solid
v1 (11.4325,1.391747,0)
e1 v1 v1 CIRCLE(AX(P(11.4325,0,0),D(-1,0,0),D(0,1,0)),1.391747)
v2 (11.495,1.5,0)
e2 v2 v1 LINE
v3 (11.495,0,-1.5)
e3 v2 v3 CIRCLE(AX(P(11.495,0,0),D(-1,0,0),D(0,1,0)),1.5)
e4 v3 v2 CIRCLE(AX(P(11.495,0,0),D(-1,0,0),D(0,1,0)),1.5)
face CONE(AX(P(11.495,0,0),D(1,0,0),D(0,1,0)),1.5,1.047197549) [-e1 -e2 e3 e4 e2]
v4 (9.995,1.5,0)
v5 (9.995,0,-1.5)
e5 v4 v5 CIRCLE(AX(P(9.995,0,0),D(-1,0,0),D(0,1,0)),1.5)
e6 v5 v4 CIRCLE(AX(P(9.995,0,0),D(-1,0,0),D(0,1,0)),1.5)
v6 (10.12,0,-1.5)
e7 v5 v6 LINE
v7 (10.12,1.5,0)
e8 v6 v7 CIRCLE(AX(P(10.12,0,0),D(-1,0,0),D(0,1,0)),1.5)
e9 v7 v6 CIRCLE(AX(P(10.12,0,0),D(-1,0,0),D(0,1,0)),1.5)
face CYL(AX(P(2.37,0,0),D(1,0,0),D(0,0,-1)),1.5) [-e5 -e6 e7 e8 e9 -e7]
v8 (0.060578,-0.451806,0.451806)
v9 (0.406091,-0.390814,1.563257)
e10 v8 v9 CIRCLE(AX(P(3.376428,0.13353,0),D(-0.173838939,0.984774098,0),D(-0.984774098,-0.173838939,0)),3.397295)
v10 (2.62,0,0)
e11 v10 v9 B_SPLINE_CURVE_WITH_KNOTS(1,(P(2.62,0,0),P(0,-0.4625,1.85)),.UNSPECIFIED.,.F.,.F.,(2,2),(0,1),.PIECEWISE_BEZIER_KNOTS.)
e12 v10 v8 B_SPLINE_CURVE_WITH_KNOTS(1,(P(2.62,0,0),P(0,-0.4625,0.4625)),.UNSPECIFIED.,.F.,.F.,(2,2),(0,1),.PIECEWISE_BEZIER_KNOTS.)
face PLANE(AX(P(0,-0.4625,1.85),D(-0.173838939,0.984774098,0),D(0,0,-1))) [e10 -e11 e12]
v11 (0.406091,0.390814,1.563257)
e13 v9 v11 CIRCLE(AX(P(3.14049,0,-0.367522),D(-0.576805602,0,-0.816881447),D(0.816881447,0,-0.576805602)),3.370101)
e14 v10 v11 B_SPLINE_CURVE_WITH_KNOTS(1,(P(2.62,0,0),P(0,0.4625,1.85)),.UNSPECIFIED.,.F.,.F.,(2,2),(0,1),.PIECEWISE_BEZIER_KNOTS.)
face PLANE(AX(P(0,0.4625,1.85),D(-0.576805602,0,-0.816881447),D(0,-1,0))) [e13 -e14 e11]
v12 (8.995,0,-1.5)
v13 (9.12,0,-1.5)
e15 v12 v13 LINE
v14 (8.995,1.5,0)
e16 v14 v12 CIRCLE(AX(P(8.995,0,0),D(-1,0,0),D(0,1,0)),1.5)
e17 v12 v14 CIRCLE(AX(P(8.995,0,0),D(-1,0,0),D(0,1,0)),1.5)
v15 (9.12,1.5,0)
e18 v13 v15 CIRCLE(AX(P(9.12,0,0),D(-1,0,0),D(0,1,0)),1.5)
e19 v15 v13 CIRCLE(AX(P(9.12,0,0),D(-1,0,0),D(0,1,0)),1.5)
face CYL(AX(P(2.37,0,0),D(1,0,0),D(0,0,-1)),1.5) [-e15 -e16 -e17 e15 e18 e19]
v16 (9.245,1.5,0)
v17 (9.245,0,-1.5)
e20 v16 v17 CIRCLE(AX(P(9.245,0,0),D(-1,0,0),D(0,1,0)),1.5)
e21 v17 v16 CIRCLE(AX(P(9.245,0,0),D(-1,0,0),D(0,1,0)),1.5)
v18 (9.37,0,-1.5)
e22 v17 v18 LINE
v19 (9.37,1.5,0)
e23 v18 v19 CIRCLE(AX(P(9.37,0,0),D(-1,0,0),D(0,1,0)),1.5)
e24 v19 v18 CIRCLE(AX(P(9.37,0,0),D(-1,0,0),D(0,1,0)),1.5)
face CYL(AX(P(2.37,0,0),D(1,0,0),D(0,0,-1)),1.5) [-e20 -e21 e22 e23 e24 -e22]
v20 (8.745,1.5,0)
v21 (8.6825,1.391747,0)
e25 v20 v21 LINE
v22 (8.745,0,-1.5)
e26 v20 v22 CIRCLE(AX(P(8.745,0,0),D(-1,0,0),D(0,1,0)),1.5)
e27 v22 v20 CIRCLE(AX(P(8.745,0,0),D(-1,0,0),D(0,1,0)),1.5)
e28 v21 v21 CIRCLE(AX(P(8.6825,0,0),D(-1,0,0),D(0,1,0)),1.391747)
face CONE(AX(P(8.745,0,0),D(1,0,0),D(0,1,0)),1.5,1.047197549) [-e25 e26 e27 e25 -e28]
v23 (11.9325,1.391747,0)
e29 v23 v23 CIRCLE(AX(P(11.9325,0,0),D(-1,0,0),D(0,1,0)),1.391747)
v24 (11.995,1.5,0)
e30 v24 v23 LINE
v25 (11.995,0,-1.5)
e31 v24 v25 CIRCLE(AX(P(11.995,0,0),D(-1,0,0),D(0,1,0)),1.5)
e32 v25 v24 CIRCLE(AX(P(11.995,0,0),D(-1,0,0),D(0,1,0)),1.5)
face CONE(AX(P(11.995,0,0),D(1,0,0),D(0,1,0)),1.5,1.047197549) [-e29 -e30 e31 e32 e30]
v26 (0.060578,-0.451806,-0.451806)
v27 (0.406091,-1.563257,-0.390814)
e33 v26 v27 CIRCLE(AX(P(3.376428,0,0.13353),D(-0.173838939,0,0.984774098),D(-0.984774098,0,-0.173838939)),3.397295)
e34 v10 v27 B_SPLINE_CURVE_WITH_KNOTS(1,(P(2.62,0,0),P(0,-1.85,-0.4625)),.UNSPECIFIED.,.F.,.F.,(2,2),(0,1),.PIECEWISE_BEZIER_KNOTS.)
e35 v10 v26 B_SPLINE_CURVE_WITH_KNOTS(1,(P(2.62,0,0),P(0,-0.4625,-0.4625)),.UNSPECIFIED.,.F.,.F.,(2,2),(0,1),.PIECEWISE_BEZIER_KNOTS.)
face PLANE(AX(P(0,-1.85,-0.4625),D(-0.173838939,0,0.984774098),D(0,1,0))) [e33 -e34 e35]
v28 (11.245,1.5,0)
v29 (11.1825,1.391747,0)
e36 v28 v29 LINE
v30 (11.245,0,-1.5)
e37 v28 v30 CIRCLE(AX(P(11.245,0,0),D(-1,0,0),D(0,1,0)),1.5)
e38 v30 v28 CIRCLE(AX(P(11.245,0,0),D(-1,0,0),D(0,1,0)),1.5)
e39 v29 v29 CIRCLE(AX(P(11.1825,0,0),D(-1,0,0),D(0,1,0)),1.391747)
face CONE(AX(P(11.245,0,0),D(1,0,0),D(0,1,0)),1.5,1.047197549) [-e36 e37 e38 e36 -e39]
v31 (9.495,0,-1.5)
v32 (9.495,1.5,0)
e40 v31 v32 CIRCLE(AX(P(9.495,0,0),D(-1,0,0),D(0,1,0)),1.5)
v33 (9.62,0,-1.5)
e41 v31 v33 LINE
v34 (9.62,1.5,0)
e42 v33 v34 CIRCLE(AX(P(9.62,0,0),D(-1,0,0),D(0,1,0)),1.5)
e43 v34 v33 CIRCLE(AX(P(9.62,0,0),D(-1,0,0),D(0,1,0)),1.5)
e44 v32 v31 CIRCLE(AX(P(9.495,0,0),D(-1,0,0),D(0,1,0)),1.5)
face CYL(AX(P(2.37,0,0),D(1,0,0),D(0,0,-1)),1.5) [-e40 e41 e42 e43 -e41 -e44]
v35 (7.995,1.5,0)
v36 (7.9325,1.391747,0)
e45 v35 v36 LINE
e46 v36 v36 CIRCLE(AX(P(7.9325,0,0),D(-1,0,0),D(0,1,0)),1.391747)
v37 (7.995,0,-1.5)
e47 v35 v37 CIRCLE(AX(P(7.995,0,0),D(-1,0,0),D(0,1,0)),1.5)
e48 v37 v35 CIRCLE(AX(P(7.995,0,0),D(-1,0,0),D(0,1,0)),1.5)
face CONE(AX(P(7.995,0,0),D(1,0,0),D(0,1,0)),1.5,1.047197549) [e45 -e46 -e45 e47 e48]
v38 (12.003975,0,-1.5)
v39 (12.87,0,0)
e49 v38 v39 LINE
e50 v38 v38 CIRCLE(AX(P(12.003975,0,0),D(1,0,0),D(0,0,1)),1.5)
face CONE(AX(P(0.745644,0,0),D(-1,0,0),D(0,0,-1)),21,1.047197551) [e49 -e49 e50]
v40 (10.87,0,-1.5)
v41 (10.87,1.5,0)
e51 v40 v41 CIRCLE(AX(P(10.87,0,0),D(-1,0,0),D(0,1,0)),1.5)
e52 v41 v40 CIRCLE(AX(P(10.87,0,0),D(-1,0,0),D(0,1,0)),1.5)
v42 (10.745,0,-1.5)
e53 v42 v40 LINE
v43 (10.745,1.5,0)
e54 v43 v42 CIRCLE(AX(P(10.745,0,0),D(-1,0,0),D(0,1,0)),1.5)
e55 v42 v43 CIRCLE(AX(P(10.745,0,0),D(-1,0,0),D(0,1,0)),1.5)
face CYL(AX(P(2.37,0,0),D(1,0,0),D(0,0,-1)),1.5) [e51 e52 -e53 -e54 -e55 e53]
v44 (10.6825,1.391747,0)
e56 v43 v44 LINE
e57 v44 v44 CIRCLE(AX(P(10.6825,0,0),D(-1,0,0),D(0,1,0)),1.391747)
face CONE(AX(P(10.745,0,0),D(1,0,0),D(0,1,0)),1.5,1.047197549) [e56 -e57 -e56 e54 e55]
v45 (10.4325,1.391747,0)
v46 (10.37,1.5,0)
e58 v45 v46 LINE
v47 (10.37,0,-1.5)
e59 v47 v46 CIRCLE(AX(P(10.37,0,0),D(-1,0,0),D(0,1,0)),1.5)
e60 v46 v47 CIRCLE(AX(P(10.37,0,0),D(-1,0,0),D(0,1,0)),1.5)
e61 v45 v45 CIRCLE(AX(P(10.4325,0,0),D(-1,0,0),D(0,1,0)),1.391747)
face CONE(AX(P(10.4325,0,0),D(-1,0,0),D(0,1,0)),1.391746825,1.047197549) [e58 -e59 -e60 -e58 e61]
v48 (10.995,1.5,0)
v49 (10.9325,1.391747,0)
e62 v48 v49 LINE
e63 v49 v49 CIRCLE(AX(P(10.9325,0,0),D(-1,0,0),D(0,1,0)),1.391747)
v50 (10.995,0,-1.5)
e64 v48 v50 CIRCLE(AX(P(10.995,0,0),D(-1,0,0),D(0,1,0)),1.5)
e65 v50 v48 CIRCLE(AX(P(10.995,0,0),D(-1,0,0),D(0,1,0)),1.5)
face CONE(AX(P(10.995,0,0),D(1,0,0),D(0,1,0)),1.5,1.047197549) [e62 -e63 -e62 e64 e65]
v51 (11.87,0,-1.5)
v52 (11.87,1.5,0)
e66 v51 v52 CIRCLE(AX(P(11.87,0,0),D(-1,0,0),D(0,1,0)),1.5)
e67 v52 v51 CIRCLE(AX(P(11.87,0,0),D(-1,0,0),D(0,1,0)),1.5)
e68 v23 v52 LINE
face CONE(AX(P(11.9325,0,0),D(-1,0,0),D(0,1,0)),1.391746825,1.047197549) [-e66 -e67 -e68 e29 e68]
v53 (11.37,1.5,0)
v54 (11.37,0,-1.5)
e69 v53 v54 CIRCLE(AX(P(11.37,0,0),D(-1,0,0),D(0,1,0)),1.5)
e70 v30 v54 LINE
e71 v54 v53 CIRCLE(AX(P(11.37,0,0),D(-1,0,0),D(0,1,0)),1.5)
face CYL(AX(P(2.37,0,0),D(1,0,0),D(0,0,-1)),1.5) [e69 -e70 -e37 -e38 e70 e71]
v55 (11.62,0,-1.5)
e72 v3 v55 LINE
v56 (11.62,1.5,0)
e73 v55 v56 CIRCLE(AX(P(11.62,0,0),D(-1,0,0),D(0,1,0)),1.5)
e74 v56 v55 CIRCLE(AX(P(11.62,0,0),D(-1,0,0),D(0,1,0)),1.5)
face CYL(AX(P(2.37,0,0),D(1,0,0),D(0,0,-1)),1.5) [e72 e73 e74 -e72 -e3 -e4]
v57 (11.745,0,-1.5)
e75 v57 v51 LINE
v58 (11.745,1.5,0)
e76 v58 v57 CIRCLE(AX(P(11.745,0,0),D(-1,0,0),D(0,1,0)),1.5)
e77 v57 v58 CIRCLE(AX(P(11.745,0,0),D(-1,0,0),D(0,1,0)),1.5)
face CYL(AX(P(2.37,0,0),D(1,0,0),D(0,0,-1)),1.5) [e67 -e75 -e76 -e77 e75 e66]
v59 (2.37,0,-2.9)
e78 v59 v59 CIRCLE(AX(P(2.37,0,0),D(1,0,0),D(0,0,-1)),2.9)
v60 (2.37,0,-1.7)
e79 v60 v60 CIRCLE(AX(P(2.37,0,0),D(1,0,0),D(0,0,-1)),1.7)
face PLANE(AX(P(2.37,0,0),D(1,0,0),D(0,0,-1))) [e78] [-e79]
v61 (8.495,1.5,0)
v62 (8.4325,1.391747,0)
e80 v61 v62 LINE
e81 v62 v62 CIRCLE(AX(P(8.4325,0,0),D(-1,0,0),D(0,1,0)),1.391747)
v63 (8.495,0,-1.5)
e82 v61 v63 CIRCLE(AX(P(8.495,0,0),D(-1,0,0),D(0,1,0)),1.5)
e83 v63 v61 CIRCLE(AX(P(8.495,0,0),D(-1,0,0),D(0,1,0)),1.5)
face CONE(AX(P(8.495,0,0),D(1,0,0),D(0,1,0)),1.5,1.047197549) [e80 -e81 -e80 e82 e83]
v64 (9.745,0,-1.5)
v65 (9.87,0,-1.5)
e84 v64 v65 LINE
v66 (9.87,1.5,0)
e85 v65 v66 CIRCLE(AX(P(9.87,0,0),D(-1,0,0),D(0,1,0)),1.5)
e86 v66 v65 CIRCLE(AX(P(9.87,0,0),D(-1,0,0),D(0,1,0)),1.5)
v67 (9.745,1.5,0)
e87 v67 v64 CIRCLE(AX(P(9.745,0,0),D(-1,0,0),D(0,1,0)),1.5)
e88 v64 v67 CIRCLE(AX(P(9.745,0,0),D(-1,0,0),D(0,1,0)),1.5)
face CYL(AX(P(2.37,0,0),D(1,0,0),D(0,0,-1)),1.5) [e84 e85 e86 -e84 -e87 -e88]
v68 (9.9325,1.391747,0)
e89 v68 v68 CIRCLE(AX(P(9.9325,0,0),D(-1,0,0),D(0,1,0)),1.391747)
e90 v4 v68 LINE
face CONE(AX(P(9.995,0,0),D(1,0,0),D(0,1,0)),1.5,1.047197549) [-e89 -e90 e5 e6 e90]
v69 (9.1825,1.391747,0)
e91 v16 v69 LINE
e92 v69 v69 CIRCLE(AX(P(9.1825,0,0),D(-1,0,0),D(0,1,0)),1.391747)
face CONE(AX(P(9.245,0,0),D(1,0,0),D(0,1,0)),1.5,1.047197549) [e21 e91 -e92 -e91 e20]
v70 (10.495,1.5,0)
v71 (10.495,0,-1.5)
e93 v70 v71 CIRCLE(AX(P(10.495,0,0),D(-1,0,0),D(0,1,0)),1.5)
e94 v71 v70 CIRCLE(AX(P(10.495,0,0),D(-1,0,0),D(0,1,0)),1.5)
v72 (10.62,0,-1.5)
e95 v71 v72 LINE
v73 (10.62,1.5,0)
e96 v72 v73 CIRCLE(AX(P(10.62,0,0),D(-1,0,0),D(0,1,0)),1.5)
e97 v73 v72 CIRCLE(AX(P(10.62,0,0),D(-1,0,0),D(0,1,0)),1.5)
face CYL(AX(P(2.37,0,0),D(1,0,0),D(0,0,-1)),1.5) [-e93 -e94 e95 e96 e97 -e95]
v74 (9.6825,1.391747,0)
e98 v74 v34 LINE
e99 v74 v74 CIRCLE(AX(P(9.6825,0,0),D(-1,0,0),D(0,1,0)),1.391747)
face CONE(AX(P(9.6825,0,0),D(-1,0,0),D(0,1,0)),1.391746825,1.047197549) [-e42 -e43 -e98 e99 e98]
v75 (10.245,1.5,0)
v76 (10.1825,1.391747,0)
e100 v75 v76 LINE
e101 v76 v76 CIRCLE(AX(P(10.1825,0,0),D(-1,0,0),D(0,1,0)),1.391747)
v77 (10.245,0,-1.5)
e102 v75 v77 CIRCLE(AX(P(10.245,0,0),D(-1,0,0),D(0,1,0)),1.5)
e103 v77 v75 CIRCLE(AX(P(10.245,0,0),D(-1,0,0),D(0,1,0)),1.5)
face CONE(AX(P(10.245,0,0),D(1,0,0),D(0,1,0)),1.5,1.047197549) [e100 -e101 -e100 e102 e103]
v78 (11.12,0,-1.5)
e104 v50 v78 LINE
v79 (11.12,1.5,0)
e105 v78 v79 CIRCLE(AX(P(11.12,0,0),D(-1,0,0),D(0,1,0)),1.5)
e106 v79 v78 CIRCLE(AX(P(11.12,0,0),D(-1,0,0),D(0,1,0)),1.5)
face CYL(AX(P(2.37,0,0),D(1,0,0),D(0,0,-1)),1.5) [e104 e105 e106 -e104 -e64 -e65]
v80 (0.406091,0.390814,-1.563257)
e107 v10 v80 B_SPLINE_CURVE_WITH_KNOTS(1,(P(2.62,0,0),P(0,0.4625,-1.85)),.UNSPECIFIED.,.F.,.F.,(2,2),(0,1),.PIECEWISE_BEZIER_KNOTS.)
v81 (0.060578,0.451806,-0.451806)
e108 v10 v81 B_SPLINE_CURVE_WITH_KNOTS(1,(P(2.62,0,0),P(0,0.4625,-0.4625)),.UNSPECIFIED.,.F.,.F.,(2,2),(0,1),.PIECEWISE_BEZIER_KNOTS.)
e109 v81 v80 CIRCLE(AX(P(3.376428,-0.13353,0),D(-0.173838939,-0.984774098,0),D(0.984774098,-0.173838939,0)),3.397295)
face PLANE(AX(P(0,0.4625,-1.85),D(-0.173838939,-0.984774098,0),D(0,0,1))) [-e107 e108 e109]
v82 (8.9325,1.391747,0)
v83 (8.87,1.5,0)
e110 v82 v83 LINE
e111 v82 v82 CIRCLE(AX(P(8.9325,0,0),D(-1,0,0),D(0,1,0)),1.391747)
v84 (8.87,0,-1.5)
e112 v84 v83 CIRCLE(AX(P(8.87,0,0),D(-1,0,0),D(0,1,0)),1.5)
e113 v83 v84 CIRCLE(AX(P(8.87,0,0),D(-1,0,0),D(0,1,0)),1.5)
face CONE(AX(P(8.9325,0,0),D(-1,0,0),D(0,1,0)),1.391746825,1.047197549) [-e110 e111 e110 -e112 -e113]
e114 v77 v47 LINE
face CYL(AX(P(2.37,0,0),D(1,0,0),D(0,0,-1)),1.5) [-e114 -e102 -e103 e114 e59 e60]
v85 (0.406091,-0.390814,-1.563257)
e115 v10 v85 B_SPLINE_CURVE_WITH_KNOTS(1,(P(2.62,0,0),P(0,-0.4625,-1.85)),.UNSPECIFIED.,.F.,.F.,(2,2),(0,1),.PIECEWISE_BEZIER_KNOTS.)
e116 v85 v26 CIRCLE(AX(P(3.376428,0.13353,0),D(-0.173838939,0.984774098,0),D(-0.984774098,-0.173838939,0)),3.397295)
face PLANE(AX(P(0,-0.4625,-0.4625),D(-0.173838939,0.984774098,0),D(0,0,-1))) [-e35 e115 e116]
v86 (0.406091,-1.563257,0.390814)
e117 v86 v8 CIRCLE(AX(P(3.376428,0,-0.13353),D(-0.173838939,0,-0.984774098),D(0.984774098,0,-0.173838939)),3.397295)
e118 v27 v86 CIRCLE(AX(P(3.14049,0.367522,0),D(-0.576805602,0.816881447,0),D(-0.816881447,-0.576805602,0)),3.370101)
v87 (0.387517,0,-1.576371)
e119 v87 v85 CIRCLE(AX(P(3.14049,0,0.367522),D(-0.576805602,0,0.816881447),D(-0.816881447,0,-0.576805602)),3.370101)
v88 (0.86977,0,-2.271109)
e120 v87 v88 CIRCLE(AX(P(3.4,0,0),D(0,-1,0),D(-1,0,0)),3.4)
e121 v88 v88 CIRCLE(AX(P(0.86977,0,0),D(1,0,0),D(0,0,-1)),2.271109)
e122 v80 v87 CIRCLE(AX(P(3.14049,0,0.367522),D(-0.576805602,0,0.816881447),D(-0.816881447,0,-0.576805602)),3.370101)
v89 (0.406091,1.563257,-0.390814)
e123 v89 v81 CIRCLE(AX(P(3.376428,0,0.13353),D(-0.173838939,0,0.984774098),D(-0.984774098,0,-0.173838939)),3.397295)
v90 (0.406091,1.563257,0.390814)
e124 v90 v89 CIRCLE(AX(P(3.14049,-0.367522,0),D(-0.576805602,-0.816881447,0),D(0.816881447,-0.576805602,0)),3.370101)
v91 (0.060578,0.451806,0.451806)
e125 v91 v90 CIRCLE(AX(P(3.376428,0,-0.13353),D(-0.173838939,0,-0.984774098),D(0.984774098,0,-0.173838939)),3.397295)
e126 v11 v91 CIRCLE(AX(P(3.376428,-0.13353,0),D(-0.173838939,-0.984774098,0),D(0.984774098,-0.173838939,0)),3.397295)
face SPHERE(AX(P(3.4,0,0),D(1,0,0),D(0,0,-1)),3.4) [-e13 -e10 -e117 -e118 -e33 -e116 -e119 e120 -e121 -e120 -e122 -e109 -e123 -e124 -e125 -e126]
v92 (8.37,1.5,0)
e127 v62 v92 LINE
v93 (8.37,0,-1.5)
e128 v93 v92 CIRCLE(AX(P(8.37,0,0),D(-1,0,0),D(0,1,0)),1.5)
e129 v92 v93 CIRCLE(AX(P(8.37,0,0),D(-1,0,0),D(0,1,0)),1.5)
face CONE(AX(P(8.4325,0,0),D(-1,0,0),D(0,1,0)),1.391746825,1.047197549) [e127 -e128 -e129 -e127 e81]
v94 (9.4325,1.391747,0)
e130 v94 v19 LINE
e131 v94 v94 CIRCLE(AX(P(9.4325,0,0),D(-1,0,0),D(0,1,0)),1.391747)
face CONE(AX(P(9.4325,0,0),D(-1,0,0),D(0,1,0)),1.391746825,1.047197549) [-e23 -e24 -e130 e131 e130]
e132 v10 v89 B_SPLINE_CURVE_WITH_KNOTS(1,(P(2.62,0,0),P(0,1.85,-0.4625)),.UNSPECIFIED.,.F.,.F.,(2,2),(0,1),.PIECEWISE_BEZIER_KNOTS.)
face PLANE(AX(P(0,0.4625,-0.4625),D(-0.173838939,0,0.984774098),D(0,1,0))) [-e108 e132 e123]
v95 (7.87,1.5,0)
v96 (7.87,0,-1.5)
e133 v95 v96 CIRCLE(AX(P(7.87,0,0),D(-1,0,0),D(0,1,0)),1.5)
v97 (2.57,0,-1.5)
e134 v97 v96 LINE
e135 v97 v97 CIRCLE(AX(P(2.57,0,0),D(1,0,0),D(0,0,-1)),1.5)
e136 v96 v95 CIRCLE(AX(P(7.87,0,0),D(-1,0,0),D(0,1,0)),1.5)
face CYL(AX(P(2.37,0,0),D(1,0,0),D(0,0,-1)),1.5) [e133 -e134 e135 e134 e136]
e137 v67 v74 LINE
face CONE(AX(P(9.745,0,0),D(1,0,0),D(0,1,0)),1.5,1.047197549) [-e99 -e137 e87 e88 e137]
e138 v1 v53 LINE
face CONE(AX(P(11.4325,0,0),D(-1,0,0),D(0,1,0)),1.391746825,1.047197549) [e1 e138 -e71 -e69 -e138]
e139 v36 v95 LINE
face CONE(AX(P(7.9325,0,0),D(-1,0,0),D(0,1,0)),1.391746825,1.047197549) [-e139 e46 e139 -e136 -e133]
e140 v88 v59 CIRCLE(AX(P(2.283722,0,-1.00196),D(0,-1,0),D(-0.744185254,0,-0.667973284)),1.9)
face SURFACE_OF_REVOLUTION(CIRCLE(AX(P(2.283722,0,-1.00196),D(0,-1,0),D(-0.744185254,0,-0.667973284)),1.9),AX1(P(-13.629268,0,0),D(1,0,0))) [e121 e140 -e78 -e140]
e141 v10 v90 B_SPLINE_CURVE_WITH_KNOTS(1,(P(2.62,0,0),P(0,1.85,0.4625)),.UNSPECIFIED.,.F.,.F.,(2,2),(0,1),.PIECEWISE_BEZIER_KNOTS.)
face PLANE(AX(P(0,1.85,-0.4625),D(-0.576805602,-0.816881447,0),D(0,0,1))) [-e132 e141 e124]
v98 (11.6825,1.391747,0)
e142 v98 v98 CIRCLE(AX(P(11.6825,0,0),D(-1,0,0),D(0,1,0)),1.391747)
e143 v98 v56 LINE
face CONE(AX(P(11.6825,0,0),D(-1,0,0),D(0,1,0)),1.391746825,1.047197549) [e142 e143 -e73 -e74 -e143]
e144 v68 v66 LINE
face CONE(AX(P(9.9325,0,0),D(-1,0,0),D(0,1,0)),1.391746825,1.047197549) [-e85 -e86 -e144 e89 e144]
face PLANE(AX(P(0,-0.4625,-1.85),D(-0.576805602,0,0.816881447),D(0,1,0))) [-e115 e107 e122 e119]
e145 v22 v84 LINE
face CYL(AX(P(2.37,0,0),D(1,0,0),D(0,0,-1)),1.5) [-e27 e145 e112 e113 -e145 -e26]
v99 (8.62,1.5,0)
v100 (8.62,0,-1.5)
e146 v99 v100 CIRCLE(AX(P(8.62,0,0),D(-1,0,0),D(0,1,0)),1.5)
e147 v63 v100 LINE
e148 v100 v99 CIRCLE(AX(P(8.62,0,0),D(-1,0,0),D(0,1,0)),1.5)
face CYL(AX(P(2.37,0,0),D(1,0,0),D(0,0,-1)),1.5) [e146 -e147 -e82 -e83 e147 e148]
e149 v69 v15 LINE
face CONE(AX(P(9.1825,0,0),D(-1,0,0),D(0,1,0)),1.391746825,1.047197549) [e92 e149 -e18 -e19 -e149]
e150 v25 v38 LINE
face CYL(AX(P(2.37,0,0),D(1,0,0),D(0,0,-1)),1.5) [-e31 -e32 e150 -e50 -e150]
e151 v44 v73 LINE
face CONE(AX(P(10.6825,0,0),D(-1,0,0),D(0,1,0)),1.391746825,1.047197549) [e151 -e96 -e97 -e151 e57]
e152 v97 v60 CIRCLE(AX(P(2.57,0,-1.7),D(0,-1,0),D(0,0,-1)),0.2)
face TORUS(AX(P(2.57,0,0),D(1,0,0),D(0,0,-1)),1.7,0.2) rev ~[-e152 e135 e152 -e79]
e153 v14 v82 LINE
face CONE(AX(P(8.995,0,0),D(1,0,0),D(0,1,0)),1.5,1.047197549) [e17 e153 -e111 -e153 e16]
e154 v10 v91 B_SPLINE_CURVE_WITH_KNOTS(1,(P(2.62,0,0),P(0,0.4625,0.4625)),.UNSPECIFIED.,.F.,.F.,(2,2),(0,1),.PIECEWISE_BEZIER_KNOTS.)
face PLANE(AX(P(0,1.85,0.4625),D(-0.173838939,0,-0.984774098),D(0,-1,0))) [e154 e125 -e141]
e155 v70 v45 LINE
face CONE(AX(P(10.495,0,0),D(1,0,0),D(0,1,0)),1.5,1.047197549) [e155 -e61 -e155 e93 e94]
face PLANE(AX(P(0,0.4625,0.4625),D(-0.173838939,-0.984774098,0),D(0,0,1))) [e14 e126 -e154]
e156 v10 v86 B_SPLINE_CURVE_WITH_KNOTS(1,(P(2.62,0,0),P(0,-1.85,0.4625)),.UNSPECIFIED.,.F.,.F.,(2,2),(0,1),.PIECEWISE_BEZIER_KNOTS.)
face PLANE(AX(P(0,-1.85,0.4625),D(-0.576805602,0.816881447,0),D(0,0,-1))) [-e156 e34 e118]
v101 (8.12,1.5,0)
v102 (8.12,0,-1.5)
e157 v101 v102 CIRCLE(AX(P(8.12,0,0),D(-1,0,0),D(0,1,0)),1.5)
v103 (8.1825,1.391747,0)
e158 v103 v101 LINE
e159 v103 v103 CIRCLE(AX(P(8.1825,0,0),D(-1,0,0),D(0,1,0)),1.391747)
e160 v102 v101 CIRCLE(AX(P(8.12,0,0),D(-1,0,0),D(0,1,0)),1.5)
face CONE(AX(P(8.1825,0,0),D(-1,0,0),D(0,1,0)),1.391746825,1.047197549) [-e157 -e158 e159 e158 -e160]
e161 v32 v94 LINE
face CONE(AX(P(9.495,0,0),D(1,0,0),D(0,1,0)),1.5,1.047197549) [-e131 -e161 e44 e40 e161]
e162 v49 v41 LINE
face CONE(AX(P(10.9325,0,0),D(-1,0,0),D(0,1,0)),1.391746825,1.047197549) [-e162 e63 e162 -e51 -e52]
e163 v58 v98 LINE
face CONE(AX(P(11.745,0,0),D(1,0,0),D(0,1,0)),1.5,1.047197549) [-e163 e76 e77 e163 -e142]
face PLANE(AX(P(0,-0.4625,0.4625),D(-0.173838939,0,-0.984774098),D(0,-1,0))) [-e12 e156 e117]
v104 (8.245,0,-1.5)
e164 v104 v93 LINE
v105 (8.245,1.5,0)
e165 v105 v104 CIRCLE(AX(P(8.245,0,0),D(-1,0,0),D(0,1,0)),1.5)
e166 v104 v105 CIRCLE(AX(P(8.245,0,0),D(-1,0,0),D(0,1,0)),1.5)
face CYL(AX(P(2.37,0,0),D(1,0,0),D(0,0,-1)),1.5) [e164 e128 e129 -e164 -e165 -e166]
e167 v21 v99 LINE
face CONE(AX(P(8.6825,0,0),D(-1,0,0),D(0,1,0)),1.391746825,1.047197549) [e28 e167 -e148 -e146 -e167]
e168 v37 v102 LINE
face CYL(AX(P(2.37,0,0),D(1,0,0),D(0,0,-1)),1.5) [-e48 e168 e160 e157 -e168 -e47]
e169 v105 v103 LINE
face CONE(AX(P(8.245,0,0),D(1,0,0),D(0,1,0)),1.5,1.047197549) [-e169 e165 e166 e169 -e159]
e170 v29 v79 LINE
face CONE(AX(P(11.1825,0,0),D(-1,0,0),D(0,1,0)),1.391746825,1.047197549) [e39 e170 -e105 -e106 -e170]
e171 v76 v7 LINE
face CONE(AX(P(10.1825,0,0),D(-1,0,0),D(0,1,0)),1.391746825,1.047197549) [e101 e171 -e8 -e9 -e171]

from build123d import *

# Parameters (mm, degrees)
FILLET2_R        = 0.2
LPATTERN10_COUNT = 20
LPATTERN10_PITCH = 0.25


with BuildPart() as part:
    # Sketch1 → Revolve1 (revolve)
    with BuildSketch(Plane(origin=(0, 0, 0), x_dir=(1, 0, 0), z_dir=(0, 1, 0))):
        with BuildLine():
            Line((2.37, 1.5), (12.87, 1.5))
            Line((12.87, 1.5), (12.87, 0))
            Line((12.87, 0), (0, 0))
            ThreePointArc((0, 0), (0.224879408, 1.215980768), (0.869770135, 2.271109163))
            ThreePointArc((0.869770135, 2.271109163), (1.549177667, 2.754228297), (2.37, 2.9))
            Line((2.37, 2.9), (2.37, 1.5))
        make_face()
    revolve(axis=Axis((-13.629268293, 0, 0), (1, 0, 0)))

    # Fillet2
    fillet2_edges = [part.edges().sort_by_distance(p)[0] for p in [
        (2.37, 0, 1.5),
    ]]
    fillet(fillet2_edges, radius=FILLET2_R)

    # Sketch4 → Cut-Revolve1 (revolve, cut)
    with BuildSketch(Plane(origin=(0, 0, 0), x_dir=(1, 0, 0), z_dir=(0, 1, 0))):
        Polygon((13.603454633, 0), (13.603454633, 21), (0.745644347, 21), (12.87, 0), align=None)
    revolve(axis=Axis((4.782773752, 0, 0), (1, 0, 0)), mode=Mode.SUBTRACT)

    # Sketch2 → Cut-Loft1 section 0
    with BuildSketch(Plane(origin=(0, 0, 0), x_dir=(0, 0, -1), z_dir=(1, 0, 0)), mode=Mode.PRIVATE) as cut_loft1_s0:
        Polygon((-0.4625, 0.4625), (-1.85, 0.4625), (-1.85, -0.4625), (-0.4625, -0.4625), (-0.4625, -1.85), (0.4625, -1.85), (0.4625, -0.4625), (1.85, -0.4625), (1.85, 0.4625), (0.4625, 0.4625), (0.4625, 1.85), (-0.4625, 1.85), align=None)
    loft([Vertex(2.62, 0, 0), cut_loft1_s0.sketch], mode=Mode.SUBTRACT)

    # Sketch6 → Cut-Revolve10 (revolve, cut)
    with BuildSketch(Plane.XY):
        Polygon((7.87, 1.7), (7.995, 1.7), (7.995, 1.5), (7.9325, 1.391746825), (7.87, 1.5), align=None)
    cut_revolve10 = revolve(axis=Axis((10.774329131, 0, 0), (-1, 0, 0)), mode=Mode.SUBTRACT)

    # LPattern10: Cut-Revolve10 ×20
    with Locations(*[(i * LPATTERN10_PITCH, 0, 0) for i in range(1, LPATTERN10_COUNT)]):
        add(cut_revolve10, mode=Mode.SUBTRACT)


solid = part.part
